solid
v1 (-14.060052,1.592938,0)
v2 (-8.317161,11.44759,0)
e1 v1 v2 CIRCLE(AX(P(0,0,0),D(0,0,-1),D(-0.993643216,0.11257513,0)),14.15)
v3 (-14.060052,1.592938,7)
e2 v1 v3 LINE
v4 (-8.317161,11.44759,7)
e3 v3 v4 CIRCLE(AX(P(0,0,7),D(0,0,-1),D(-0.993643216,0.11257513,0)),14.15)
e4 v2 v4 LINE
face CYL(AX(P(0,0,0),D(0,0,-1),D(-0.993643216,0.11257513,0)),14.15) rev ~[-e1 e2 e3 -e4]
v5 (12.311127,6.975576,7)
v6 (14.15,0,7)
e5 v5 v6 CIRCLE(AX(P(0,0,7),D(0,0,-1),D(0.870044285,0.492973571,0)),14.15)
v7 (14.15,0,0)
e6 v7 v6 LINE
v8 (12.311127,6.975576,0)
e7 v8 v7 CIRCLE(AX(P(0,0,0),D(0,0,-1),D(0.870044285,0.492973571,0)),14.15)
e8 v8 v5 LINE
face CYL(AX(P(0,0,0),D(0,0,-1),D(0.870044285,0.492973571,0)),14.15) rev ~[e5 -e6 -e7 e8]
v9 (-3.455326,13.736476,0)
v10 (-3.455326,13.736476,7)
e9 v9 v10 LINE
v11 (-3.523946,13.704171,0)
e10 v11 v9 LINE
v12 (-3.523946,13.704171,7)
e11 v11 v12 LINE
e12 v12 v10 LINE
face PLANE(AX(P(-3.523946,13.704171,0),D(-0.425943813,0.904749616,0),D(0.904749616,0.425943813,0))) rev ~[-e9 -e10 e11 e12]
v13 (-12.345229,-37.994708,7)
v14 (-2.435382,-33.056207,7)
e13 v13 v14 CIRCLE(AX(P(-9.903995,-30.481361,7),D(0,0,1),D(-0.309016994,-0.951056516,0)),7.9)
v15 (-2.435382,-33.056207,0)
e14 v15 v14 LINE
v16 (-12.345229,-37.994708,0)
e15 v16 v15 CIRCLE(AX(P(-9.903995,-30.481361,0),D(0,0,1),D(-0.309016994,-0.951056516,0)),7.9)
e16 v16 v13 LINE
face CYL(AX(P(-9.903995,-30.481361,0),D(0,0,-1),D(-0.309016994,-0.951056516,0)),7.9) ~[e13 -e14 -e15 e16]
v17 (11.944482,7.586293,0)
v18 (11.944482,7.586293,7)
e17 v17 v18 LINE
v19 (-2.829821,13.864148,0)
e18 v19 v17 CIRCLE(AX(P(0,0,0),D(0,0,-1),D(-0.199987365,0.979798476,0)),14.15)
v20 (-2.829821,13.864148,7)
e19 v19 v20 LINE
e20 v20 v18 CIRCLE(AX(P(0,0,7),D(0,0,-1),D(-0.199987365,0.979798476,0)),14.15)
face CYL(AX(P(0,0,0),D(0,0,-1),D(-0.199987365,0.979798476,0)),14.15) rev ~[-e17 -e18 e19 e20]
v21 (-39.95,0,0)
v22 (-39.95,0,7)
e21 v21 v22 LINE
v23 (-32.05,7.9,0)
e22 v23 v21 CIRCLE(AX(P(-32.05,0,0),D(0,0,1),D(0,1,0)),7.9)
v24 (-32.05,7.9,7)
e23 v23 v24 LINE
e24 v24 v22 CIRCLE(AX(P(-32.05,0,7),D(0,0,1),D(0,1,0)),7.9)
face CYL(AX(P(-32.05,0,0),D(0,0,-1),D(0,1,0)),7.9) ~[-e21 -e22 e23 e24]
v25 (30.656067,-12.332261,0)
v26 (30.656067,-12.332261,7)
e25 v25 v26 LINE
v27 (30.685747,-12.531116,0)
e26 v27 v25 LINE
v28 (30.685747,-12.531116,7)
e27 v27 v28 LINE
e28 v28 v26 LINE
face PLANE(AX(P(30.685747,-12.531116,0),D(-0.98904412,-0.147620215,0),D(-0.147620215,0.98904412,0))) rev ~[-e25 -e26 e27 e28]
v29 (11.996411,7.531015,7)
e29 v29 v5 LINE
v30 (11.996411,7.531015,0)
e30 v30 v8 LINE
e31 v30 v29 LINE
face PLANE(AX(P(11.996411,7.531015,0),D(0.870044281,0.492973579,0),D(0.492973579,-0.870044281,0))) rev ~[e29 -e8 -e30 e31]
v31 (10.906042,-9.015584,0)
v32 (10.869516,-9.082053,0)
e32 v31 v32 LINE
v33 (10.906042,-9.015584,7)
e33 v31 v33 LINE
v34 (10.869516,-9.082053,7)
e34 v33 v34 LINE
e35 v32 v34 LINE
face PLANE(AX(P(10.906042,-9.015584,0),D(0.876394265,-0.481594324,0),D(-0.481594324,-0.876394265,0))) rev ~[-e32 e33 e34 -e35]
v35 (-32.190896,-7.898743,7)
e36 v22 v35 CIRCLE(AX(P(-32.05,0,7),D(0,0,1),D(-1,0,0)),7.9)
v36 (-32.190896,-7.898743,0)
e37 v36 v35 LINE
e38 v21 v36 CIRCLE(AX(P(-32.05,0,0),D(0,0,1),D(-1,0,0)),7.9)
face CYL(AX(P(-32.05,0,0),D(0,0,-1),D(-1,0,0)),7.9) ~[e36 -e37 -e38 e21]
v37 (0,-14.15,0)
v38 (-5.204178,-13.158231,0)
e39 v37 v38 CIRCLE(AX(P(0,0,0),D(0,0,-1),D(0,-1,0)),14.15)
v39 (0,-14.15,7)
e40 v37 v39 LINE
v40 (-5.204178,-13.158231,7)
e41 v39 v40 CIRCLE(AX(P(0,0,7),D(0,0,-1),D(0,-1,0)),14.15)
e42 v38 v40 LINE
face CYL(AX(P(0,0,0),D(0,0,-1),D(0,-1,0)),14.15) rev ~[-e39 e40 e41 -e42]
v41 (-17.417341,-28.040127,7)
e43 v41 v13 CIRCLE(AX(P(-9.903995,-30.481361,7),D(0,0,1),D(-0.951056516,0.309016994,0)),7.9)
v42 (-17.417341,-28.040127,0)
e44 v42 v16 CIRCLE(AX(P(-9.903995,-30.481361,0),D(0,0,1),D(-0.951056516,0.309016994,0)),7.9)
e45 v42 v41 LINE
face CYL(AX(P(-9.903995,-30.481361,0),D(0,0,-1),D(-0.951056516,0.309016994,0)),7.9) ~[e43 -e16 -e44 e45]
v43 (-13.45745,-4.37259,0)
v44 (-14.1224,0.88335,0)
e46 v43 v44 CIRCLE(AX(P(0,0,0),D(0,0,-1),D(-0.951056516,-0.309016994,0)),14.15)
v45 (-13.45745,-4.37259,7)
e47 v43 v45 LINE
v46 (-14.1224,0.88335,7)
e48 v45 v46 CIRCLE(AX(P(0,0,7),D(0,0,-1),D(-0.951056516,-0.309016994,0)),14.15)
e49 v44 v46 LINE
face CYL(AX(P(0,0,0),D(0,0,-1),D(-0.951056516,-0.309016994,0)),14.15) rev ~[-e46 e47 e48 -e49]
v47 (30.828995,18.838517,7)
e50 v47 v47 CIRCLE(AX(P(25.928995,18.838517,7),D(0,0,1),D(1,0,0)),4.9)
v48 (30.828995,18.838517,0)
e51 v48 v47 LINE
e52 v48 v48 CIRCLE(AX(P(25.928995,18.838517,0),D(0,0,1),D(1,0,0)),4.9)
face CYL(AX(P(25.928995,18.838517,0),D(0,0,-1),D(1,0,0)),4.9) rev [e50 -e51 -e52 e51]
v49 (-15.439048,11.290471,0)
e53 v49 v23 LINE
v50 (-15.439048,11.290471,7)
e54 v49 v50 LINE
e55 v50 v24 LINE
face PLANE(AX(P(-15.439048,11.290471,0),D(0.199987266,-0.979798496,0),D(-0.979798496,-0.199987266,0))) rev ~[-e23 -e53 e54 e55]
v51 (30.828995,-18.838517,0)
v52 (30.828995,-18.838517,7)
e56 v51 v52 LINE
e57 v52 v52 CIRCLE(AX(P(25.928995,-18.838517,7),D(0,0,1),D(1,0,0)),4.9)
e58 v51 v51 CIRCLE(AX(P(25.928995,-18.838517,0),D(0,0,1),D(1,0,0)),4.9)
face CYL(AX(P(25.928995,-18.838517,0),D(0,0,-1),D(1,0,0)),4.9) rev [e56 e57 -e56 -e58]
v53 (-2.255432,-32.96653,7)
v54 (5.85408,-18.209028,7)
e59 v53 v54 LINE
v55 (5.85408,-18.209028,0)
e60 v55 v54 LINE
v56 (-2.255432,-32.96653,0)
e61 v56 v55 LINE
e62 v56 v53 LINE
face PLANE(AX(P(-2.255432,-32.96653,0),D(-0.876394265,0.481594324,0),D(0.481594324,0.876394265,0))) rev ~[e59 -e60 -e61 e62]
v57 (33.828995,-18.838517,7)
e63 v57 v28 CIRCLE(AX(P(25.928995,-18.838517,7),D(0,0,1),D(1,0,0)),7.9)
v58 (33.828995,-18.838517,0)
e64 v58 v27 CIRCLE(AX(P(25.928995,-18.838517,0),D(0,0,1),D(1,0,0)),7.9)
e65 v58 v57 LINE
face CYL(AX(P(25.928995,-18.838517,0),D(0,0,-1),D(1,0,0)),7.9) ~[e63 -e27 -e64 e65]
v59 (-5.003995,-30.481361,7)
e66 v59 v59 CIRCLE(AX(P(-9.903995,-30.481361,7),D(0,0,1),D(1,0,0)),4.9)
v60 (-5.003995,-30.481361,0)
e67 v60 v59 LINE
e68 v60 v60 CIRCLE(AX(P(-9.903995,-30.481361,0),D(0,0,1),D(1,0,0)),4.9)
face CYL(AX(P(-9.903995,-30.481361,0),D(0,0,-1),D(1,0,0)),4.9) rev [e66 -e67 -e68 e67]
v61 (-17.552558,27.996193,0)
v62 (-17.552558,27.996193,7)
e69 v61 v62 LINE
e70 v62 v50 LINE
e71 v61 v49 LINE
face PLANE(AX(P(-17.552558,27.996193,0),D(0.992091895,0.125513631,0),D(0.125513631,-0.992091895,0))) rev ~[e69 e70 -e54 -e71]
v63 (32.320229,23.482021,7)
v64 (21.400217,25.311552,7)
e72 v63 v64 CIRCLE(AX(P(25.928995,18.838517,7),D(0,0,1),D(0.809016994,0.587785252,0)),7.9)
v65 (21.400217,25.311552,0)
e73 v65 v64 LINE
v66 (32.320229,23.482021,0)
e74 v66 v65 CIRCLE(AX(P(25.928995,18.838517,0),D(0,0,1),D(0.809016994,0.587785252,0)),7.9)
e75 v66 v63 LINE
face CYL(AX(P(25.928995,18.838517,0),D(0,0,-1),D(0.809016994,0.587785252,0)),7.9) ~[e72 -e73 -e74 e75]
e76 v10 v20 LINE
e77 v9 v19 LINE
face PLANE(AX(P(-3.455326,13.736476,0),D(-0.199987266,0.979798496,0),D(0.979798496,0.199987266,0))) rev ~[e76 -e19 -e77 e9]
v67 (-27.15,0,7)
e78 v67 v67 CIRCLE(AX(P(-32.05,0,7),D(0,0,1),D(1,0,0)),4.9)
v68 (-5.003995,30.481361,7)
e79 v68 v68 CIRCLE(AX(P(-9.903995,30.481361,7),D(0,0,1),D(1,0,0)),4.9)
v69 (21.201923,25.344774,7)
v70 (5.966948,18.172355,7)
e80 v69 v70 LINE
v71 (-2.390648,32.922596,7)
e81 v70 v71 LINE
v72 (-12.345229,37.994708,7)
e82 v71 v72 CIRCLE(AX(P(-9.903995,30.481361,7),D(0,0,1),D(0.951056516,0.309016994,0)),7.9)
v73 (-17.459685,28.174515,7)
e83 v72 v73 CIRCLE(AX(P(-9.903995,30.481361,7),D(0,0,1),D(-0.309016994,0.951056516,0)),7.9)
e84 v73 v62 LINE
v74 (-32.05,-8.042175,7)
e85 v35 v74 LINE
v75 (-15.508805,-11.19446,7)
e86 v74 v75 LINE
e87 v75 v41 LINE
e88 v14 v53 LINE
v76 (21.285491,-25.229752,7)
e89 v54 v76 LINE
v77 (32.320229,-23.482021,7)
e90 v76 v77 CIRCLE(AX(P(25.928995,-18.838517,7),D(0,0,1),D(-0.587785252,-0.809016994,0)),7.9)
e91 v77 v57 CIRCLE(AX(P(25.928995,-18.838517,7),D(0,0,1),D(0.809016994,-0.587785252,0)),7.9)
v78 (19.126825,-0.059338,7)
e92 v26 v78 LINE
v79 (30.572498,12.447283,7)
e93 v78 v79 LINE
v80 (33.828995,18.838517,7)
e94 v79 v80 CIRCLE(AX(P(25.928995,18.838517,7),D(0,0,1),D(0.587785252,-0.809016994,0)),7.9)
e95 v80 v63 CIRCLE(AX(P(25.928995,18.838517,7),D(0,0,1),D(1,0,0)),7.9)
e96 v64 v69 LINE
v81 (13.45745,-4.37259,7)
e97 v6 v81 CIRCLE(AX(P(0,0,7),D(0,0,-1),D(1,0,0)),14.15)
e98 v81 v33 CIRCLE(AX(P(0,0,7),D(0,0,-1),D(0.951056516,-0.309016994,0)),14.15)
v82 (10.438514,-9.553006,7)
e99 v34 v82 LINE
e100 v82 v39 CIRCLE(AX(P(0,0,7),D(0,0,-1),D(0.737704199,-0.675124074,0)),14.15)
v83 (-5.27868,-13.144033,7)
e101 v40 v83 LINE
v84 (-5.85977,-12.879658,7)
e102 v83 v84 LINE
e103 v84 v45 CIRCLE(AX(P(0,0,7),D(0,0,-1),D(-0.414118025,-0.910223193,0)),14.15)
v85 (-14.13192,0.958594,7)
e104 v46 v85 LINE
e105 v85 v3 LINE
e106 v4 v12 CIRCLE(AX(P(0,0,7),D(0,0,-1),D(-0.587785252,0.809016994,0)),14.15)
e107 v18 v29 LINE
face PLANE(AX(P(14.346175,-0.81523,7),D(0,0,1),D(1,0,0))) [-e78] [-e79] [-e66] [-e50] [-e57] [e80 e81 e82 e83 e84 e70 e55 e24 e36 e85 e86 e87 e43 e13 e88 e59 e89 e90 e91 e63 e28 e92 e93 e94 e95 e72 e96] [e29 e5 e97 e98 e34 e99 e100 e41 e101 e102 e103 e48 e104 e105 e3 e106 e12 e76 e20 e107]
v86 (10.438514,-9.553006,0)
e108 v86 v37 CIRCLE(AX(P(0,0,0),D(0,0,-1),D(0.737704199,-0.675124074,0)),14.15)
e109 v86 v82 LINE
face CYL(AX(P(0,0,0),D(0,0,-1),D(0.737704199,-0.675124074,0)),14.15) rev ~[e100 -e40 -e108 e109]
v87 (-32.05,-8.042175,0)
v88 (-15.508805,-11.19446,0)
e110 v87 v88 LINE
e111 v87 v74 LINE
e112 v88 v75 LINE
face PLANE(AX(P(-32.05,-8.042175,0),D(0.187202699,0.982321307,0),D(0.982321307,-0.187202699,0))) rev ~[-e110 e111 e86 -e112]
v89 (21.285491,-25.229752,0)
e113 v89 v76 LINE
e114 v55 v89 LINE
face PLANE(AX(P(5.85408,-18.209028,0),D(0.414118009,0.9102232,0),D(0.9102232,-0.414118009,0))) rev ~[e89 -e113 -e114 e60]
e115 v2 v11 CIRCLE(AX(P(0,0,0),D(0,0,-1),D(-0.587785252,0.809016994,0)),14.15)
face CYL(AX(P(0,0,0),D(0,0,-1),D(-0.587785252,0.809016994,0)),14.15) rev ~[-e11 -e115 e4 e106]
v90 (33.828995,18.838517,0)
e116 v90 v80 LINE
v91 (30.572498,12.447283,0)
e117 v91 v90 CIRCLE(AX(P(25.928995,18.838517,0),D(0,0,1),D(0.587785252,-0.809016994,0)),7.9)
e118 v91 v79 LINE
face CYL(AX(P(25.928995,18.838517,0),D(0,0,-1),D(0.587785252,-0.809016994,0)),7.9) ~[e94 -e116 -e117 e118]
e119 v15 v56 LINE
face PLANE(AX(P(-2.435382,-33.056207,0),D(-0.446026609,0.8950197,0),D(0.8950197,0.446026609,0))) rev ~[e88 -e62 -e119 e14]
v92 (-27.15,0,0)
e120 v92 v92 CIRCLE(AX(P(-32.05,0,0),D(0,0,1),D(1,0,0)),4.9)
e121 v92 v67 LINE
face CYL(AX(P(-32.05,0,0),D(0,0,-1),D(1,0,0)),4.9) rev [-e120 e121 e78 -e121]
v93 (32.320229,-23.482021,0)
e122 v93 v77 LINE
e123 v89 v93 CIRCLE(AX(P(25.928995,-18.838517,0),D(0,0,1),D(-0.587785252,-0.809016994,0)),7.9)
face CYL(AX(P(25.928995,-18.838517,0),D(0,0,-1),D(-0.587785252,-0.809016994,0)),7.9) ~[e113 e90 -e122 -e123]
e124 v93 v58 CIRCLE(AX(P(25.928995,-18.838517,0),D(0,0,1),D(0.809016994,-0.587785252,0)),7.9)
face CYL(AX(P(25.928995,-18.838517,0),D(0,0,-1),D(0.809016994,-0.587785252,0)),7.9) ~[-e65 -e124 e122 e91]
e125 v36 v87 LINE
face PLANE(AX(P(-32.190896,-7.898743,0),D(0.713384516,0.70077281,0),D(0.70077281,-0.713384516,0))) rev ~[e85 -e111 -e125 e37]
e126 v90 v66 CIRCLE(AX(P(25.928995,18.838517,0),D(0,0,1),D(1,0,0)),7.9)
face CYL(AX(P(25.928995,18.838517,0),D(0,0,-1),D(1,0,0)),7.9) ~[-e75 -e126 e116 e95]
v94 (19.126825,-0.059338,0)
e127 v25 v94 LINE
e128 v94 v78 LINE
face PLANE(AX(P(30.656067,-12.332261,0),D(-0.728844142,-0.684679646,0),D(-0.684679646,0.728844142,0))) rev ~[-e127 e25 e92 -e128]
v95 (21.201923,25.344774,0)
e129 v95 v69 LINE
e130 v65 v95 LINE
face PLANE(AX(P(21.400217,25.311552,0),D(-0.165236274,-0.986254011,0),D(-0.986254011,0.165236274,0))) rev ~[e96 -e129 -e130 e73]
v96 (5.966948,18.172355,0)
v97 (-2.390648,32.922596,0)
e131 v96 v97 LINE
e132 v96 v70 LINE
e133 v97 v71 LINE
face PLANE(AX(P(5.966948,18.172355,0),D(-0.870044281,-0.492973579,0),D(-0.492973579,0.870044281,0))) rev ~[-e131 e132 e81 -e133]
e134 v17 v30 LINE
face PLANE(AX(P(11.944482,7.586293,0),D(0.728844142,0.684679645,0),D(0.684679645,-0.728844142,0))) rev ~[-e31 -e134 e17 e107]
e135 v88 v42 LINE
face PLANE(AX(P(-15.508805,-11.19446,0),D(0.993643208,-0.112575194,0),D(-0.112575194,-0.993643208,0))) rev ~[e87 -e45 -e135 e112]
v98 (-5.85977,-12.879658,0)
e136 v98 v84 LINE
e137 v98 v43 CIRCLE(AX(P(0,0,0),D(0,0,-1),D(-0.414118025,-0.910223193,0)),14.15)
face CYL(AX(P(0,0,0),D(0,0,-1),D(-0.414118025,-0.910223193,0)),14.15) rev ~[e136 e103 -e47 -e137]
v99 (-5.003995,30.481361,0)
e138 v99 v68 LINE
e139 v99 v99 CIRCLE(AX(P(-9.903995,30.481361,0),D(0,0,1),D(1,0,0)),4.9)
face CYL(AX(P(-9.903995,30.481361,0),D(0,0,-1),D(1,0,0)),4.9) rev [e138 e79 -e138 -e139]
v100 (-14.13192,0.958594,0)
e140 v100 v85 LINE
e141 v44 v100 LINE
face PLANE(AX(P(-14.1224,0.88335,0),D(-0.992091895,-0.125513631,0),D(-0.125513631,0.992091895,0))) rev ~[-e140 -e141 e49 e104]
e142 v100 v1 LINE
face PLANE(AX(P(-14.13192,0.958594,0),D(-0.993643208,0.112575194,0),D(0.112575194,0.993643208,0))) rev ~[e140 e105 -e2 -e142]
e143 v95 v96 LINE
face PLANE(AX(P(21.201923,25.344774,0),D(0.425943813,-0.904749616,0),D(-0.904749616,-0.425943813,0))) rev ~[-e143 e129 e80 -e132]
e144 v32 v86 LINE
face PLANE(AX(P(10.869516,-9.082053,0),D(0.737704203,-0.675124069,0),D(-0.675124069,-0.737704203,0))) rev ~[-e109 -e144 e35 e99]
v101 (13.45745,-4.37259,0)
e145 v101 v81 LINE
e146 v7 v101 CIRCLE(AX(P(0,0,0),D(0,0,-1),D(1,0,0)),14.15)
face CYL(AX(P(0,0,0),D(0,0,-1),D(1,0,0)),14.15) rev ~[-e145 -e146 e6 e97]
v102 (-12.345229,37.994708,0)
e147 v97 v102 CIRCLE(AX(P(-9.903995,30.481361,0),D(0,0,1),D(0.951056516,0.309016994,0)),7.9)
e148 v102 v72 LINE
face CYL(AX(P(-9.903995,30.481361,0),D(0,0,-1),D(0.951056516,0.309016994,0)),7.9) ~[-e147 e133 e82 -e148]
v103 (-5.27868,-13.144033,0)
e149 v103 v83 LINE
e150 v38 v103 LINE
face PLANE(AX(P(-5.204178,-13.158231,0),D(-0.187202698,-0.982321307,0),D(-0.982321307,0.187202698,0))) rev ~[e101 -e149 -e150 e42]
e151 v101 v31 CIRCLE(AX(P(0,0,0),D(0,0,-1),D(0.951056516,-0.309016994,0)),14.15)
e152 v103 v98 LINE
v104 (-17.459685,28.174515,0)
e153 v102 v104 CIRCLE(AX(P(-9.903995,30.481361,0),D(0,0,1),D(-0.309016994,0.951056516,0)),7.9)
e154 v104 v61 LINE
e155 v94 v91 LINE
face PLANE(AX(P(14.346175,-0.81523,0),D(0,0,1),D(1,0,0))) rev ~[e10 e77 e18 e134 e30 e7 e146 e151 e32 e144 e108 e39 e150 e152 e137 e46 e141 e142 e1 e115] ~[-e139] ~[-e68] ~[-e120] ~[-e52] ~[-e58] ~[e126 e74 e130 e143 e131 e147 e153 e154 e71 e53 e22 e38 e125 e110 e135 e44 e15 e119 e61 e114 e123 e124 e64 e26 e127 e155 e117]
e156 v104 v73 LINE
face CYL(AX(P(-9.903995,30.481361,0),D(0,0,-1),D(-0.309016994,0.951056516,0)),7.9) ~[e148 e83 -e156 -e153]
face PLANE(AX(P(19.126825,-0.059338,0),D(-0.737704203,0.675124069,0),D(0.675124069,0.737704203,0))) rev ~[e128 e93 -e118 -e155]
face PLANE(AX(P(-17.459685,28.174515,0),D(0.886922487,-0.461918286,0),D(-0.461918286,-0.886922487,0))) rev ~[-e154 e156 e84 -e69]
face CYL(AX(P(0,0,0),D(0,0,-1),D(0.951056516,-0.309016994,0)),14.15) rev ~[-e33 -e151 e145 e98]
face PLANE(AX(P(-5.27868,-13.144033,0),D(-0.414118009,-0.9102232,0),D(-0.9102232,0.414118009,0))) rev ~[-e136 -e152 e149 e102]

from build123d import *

# Parameters (mm, degrees)
F0_R     = 4.9
F1_DEPTH = 7


with BuildPart() as f1:
    # F0 (on Top) → F1 (new body)
    with BuildSketch(Plane.XY):
        with BuildLine():
            ThreePointArc((14.15, 0), (13.9757900194, -2.2135476803), (13.4574497056, -4.3725904704))
            ThreePointArc((13.4574497056, -4.3725904704), (12.400978844, -6.8145596858), (10.9060417797, -9.0155838801))
            Line((10.9060417797, -9.0155838801), (10.8695159641, -9.0820527185))
            Line((10.8695159641, -9.0820527185), (19.1268249694, -0.0593384625))
            Line((19.1268249694, -0.0593384625), (11.9964105728, 7.5310153528))
            Line((11.9964105728, 7.5310153528), (12.3111266381, 6.9755760265))
            ThreePointArc((12.3111266381, 6.9755760265), (13.6825608336, 3.6069417844), (14.15, 0))
        make_face()
        with BuildLine():
            Line((10.8695159641, -9.0820527185), (10.4385144096, -9.5530056485))
            ThreePointArc((10.4385144096, -9.5530056485), (5.702958446, -12.9498557893), (0, -14.15))
            ThreePointArc((0, -14.15), (-2.6489181852, -13.8998464901), (-5.2041775461, -13.1582307347))
            Line((-5.2041775461, -13.1582307347), (-5.2786802657, -13.1440326205))
            Line((-5.2786802657, -13.1440326205), (5.8540797326, -18.2090281165))
            Line((5.8540797326, -18.2090281165), (10.8695159641, -9.0820527185))
        make_face()
        with BuildLine():
            Line((19.1268249694, -0.0593384625), (10.8695159641, -9.0820527185))
            Line((10.8695159641, -9.0820527185), (5.8540797326, -18.2090281165))
            Line((5.8540797326, -18.2090281165), (21.2854911766, -25.2297515915))
            ThreePointArc((21.2854911766, -25.2297515915), (19.5794245005, -14.1382025948), (30.685746847, -12.531116229))
            Line((30.685746847, -12.531116229), (30.6560666179, -12.3322609697))
            Line((30.6560666179, -12.3322609697), (19.1268249694, -0.0593384625))
        make_face()
        with BuildLine():
            ThreePointArc((8.3171613199, 11.4475904704), (10.3131446045, 9.6882169859), (11.9444820487, 7.5862934684))
            Line((11.9444820487, 7.5862934684), (11.9964105728, 7.5310153528))
            Line((11.9964105728, 7.5310153528), (5.9669481954, 18.1723549299))
            Line((5.9669481954, 18.1723549299), (-3.4553264872, 13.7364761763))
            Line((-3.4553264872, 13.7364761763), (-2.8298212171, 13.8641484369))
            ThreePointArc((-2.8298212171, 13.8641484369), (2.9979432037, 13.8287684393), (8.3171613199, 11.4475904704))
        make_face()
        with BuildLine():
            Line((5.9669481954, 18.1723549299), (11.9964105728, 7.5310153528))
            Line((11.9964105728, 7.5310153528), (19.1268249694, -0.0593384625))
            Line((19.1268249694, -0.0593384625), (30.5724981628, 12.4472830804))
            ThreePointArc((30.5724981628, 12.4472830804), (19.4966046172, 14.2521943848), (21.4002170069, 25.311551623))
            Line((21.4002170069, 25.311551623), (21.2019227215, 25.3447737022))
            Line((21.2019227215, 25.3447737022), (5.9669481954, 18.1723549299))
        make_face()
        with BuildLine():
            Line((-2.2554315903, -32.9665301396), (5.8540797326, -18.2090281165))
            Line((5.8540797326, -18.2090281165), (-5.2786802657, -13.1440326205))
            Line((-5.2786802657, -13.1440326205), (-15.5088047218, -11.1944598156))
            Line((-15.5088047218, -11.1944598156), (-17.4173411484, -28.0401270917))
            ThreePointArc((-17.4173411484, -28.0401270917), (-8.6681623959, -22.6786234566), (-2.0039946697, -30.4813613473))
            ThreePointArc((-2.0039946697, -30.4813613473), (-2.1125879849, -31.7867279132), (-2.4353824853, -33.0562073695))
            Line((-2.4353824853, -33.0562073695), (-2.2554315903, -32.9665301396))
        make_face()
        with BuildLine():
            Line((-3.4553264872, 13.7364761763), (5.9669481954, 18.1723549299))
            Line((5.9669481954, 18.1723549299), (-2.390648191, 32.9225956028))
            ThreePointArc((-2.390648191, 32.9225956028), (-2.101256779, 31.7171936211), (-2.0039946697, 30.4813613473))
            ThreePointArc((-2.0039946697, 30.4813613473), (-8.7377949727, 22.6679127958), (-17.4596853701, 28.17451544))
            Line((-17.4596853701, 28.17451544), (-17.5525577492, 27.9961925549))
            Line((-17.5525577492, 27.9961925549), (-15.4390481756, 11.2904714648))
            Line((-15.4390481756, 11.2904714648), (-3.4553264872, 13.7364761763))
        make_face()
        with BuildLine():
            Line((32.3202289253, -23.4820208291), (21.2854911766, -25.2297515915))
            ThreePointArc((21.2854911766, -25.2297515915), (27.1648269435, -26.6412552267), (32.3202289253, -23.4820208291))
        make_face()
        with BuildLine():
            ThreePointArc((30.685746847, -12.531116229), (19.5794245005, -14.1382025948), (21.2854911766, -25.2297515915))
            Line((21.2854911766, -25.2297515915), (32.3202289253, -23.4820208291))
            Line((32.3202289253, -23.4820208291), (30.685746847, -12.531116229))
        make_face()
        with Locations((25.9289946697, -18.838517336)):
            Circle(F0_R, mode=Mode.SUBTRACT)
        with BuildLine():
            Line((-15.5088047218, -11.1944598156), (-5.2786802657, -13.1440326205))
            Line((-5.2786802657, -13.1440326205), (-5.8597700568, -12.8796581819))
            ThreePointArc((-5.8597700568, -12.8796581819), (-10.5537337042, -9.4255612513), (-13.4574497056, -4.3725904704))
            ThreePointArc((-13.4574497056, -4.3725904704), (-14.0381003158, -1.7760178835), (-14.1224003867, 0.8833500542))
            Line((-14.1224003867, 0.8833500542), (-14.1319197841, 0.9585938098))
            Line((-14.1319197841, 0.9585938098), (-15.5088047218, -11.1944598156))
        make_face()
        with BuildLine():
            Line((32.3202289253, 23.4820208291), (30.5724981628, 12.4472830804))
            ThreePointArc((30.5724981628, 12.4472830804), (32.9679462108, 15.251992388), (33.8289946697, 18.838517336))
            ThreePointArc((33.8289946697, 18.838517336), (33.4423411484, 21.2797515915), (32.3202289253, 23.4820208291))
        make_face()
        with BuildLine():
            ThreePointArc((21.4002170069, 25.311551623), (19.4966046172, 14.2521943848), (30.5724981628, 12.4472830804))
            Line((30.5724981628, 12.4472830804), (32.3202289253, 23.4820208291))
            Line((32.3202289253, 23.4820208291), (21.4002170069, 25.311551623))
        make_face()
        with Locations((25.9289946697, 18.838517336)):
            Circle(F0_R, mode=Mode.SUBTRACT)
        with BuildLine():
            Line((-3.5239458956, 13.7041710922), (-3.4553264872, 13.7364761763))
            Line((-3.4553264872, 13.7364761763), (-15.4390481756, 11.2904714648))
            Line((-15.4390481756, 11.2904714648), (-14.1319197841, 0.9585938098))
            Line((-14.1319197841, 0.9585938098), (-14.0600515027, 1.5929380844))
            ThreePointArc((-14.0600515027, 1.5929380844), (-12.2255248084, 7.1245381015), (-8.3171613199, 11.4475904704))
            ThreePointArc((-8.3171613199, 11.4475904704), (-6.0271049475, 12.8022070735), (-3.5239458956, 13.7041710922))
        make_face()
        with BuildLine():
            Line((-12.3452289253, 37.994707826), (-2.390648191, 32.9225956028))
            ThreePointArc((-2.390648191, 32.9225956028), (-6.3174697218, 37.5203128883), (-12.3452289253, 37.994707826))
        make_face()
        with BuildLine():
            ThreePointArc((-2.0039946697, 30.4813613473), (-2.101256779, 31.7171936211), (-2.390648191, 32.9225956028))
            Line((-2.390648191, 32.9225956028), (-12.3452289253, 37.994707826))
            Line((-12.3452289253, 37.994707826), (-17.4596853701, 28.17451544))
            ThreePointArc((-17.4596853701, 28.17451544), (-8.7377949727, 22.6679127958), (-2.0039946697, 30.4813613473))
        make_face()
        with Locations((-9.9039946697, 30.4813613473)):
            Circle(F0_R, mode=Mode.SUBTRACT)
        with BuildLine():
            Line((-12.3452289253, -37.994707826), (-2.4353824853, -33.0562073695))
            ThreePointArc((-2.4353824853, -33.0562073695), (-2.1125879849, -31.7867279132), (-2.0039946697, -30.4813613473))
            ThreePointArc((-2.0039946697, -30.4813613473), (-8.6681623959, -22.6786234566), (-17.4173411484, -28.0401270917))
            Line((-17.4173411484, -28.0401270917), (-12.3452289253, -37.994707826))
        make_face()
        with Locations((-9.9039946697, -30.4813613473)):
            Circle(F0_R, mode=Mode.SUBTRACT)
        with BuildLine():
            ThreePointArc((-12.3452289253, -37.994707826), (-6.3803844615, -37.5520169817), (-2.4353824853, -33.0562073695))
            Line((-2.4353824853, -33.0562073695), (-12.3452289253, -37.994707826))
        make_face()
        with BuildLine():
            Line((30.685746847, -12.531116229), (32.3202289253, -23.4820208291))
            ThreePointArc((32.3202289253, -23.4820208291), (33.4423411484, -21.2797515915), (33.8289946697, -18.838517336))
            ThreePointArc((33.8289946697, -18.838517336), (32.9996503041, -15.3149071277), (30.685746847, -12.531116229))
        make_face()
        with BuildLine():
            Line((-32.05, -8.0421751477), (-15.5088047218, -11.1944598156))
            Line((-15.5088047218, -11.1944598156), (-14.1319197841, 0.9585938098))
            Line((-14.1319197841, 0.9585938098), (-15.4390481756, 11.2904714648))
            Line((-15.4390481756, 11.2904714648), (-32.05, 7.9))
            ThreePointArc((-32.05, 7.9), (-26.4638564286, 5.5861435714), (-24.15, 0))
            ThreePointArc((-24.15, 0), (-26.5138947982, -5.6357376797), (-32.1908959985, -7.8987434645))
            Line((-32.1908959985, -7.8987434645), (-32.05, -8.0421751477))
        make_face()
        with BuildLine():
            ThreePointArc((32.3202289253, 23.4820208291), (27.2343612356, 26.6299240208), (21.4002170069, 25.311551623))
            Line((21.4002170069, 25.311551623), (32.3202289253, 23.4820208291))
        make_face()
        with BuildLine():
            Line((-17.4596853701, 28.17451544), (-12.3452289253, 37.994707826))
            ThreePointArc((-12.3452289253, 37.994707826), (-16.9106823157, 34.1305158016), (-17.4596853701, 28.17451544))
        make_face()
        with BuildLine():
            ThreePointArc((-17.4173411484, -28.0401270917), (-16.9429462108, -34.0678862952), (-12.3452289253, -37.994707826))
            Line((-12.3452289253, -37.994707826), (-17.4173411484, -28.0401270917))
        make_face()
        with BuildLine():
            Line((-39.95, 0), (-32.05, 7.9))
            ThreePointArc((-32.05, 7.9), (-37.6361435714, 5.5861435714), (-39.95, 0))
        make_face()
        with BuildLine():
            ThreePointArc((-24.15, 0), (-26.4638564286, 5.5861435714), (-32.05, 7.9))
            Line((-32.05, 7.9), (-39.95, 0))
            Line((-39.95, 0), (-32.1908959985, -7.8987434645))
            ThreePointArc((-32.1908959985, -7.8987434645), (-26.5138947982, -5.6357376797), (-24.15, 0))
        make_face()
        with Locations((-32.05, 0)):
            Circle(F0_R, mode=Mode.SUBTRACT)
        with BuildLine():
            ThreePointArc((-39.95, 0), (-37.6857376797, -5.5361052018), (-32.1908959985, -7.8987434645))
            Line((-32.1908959985, -7.8987434645), (-39.95, 0))
        make_face()
    extrude(amount=F1_DEPTH)


solid = f1.part
